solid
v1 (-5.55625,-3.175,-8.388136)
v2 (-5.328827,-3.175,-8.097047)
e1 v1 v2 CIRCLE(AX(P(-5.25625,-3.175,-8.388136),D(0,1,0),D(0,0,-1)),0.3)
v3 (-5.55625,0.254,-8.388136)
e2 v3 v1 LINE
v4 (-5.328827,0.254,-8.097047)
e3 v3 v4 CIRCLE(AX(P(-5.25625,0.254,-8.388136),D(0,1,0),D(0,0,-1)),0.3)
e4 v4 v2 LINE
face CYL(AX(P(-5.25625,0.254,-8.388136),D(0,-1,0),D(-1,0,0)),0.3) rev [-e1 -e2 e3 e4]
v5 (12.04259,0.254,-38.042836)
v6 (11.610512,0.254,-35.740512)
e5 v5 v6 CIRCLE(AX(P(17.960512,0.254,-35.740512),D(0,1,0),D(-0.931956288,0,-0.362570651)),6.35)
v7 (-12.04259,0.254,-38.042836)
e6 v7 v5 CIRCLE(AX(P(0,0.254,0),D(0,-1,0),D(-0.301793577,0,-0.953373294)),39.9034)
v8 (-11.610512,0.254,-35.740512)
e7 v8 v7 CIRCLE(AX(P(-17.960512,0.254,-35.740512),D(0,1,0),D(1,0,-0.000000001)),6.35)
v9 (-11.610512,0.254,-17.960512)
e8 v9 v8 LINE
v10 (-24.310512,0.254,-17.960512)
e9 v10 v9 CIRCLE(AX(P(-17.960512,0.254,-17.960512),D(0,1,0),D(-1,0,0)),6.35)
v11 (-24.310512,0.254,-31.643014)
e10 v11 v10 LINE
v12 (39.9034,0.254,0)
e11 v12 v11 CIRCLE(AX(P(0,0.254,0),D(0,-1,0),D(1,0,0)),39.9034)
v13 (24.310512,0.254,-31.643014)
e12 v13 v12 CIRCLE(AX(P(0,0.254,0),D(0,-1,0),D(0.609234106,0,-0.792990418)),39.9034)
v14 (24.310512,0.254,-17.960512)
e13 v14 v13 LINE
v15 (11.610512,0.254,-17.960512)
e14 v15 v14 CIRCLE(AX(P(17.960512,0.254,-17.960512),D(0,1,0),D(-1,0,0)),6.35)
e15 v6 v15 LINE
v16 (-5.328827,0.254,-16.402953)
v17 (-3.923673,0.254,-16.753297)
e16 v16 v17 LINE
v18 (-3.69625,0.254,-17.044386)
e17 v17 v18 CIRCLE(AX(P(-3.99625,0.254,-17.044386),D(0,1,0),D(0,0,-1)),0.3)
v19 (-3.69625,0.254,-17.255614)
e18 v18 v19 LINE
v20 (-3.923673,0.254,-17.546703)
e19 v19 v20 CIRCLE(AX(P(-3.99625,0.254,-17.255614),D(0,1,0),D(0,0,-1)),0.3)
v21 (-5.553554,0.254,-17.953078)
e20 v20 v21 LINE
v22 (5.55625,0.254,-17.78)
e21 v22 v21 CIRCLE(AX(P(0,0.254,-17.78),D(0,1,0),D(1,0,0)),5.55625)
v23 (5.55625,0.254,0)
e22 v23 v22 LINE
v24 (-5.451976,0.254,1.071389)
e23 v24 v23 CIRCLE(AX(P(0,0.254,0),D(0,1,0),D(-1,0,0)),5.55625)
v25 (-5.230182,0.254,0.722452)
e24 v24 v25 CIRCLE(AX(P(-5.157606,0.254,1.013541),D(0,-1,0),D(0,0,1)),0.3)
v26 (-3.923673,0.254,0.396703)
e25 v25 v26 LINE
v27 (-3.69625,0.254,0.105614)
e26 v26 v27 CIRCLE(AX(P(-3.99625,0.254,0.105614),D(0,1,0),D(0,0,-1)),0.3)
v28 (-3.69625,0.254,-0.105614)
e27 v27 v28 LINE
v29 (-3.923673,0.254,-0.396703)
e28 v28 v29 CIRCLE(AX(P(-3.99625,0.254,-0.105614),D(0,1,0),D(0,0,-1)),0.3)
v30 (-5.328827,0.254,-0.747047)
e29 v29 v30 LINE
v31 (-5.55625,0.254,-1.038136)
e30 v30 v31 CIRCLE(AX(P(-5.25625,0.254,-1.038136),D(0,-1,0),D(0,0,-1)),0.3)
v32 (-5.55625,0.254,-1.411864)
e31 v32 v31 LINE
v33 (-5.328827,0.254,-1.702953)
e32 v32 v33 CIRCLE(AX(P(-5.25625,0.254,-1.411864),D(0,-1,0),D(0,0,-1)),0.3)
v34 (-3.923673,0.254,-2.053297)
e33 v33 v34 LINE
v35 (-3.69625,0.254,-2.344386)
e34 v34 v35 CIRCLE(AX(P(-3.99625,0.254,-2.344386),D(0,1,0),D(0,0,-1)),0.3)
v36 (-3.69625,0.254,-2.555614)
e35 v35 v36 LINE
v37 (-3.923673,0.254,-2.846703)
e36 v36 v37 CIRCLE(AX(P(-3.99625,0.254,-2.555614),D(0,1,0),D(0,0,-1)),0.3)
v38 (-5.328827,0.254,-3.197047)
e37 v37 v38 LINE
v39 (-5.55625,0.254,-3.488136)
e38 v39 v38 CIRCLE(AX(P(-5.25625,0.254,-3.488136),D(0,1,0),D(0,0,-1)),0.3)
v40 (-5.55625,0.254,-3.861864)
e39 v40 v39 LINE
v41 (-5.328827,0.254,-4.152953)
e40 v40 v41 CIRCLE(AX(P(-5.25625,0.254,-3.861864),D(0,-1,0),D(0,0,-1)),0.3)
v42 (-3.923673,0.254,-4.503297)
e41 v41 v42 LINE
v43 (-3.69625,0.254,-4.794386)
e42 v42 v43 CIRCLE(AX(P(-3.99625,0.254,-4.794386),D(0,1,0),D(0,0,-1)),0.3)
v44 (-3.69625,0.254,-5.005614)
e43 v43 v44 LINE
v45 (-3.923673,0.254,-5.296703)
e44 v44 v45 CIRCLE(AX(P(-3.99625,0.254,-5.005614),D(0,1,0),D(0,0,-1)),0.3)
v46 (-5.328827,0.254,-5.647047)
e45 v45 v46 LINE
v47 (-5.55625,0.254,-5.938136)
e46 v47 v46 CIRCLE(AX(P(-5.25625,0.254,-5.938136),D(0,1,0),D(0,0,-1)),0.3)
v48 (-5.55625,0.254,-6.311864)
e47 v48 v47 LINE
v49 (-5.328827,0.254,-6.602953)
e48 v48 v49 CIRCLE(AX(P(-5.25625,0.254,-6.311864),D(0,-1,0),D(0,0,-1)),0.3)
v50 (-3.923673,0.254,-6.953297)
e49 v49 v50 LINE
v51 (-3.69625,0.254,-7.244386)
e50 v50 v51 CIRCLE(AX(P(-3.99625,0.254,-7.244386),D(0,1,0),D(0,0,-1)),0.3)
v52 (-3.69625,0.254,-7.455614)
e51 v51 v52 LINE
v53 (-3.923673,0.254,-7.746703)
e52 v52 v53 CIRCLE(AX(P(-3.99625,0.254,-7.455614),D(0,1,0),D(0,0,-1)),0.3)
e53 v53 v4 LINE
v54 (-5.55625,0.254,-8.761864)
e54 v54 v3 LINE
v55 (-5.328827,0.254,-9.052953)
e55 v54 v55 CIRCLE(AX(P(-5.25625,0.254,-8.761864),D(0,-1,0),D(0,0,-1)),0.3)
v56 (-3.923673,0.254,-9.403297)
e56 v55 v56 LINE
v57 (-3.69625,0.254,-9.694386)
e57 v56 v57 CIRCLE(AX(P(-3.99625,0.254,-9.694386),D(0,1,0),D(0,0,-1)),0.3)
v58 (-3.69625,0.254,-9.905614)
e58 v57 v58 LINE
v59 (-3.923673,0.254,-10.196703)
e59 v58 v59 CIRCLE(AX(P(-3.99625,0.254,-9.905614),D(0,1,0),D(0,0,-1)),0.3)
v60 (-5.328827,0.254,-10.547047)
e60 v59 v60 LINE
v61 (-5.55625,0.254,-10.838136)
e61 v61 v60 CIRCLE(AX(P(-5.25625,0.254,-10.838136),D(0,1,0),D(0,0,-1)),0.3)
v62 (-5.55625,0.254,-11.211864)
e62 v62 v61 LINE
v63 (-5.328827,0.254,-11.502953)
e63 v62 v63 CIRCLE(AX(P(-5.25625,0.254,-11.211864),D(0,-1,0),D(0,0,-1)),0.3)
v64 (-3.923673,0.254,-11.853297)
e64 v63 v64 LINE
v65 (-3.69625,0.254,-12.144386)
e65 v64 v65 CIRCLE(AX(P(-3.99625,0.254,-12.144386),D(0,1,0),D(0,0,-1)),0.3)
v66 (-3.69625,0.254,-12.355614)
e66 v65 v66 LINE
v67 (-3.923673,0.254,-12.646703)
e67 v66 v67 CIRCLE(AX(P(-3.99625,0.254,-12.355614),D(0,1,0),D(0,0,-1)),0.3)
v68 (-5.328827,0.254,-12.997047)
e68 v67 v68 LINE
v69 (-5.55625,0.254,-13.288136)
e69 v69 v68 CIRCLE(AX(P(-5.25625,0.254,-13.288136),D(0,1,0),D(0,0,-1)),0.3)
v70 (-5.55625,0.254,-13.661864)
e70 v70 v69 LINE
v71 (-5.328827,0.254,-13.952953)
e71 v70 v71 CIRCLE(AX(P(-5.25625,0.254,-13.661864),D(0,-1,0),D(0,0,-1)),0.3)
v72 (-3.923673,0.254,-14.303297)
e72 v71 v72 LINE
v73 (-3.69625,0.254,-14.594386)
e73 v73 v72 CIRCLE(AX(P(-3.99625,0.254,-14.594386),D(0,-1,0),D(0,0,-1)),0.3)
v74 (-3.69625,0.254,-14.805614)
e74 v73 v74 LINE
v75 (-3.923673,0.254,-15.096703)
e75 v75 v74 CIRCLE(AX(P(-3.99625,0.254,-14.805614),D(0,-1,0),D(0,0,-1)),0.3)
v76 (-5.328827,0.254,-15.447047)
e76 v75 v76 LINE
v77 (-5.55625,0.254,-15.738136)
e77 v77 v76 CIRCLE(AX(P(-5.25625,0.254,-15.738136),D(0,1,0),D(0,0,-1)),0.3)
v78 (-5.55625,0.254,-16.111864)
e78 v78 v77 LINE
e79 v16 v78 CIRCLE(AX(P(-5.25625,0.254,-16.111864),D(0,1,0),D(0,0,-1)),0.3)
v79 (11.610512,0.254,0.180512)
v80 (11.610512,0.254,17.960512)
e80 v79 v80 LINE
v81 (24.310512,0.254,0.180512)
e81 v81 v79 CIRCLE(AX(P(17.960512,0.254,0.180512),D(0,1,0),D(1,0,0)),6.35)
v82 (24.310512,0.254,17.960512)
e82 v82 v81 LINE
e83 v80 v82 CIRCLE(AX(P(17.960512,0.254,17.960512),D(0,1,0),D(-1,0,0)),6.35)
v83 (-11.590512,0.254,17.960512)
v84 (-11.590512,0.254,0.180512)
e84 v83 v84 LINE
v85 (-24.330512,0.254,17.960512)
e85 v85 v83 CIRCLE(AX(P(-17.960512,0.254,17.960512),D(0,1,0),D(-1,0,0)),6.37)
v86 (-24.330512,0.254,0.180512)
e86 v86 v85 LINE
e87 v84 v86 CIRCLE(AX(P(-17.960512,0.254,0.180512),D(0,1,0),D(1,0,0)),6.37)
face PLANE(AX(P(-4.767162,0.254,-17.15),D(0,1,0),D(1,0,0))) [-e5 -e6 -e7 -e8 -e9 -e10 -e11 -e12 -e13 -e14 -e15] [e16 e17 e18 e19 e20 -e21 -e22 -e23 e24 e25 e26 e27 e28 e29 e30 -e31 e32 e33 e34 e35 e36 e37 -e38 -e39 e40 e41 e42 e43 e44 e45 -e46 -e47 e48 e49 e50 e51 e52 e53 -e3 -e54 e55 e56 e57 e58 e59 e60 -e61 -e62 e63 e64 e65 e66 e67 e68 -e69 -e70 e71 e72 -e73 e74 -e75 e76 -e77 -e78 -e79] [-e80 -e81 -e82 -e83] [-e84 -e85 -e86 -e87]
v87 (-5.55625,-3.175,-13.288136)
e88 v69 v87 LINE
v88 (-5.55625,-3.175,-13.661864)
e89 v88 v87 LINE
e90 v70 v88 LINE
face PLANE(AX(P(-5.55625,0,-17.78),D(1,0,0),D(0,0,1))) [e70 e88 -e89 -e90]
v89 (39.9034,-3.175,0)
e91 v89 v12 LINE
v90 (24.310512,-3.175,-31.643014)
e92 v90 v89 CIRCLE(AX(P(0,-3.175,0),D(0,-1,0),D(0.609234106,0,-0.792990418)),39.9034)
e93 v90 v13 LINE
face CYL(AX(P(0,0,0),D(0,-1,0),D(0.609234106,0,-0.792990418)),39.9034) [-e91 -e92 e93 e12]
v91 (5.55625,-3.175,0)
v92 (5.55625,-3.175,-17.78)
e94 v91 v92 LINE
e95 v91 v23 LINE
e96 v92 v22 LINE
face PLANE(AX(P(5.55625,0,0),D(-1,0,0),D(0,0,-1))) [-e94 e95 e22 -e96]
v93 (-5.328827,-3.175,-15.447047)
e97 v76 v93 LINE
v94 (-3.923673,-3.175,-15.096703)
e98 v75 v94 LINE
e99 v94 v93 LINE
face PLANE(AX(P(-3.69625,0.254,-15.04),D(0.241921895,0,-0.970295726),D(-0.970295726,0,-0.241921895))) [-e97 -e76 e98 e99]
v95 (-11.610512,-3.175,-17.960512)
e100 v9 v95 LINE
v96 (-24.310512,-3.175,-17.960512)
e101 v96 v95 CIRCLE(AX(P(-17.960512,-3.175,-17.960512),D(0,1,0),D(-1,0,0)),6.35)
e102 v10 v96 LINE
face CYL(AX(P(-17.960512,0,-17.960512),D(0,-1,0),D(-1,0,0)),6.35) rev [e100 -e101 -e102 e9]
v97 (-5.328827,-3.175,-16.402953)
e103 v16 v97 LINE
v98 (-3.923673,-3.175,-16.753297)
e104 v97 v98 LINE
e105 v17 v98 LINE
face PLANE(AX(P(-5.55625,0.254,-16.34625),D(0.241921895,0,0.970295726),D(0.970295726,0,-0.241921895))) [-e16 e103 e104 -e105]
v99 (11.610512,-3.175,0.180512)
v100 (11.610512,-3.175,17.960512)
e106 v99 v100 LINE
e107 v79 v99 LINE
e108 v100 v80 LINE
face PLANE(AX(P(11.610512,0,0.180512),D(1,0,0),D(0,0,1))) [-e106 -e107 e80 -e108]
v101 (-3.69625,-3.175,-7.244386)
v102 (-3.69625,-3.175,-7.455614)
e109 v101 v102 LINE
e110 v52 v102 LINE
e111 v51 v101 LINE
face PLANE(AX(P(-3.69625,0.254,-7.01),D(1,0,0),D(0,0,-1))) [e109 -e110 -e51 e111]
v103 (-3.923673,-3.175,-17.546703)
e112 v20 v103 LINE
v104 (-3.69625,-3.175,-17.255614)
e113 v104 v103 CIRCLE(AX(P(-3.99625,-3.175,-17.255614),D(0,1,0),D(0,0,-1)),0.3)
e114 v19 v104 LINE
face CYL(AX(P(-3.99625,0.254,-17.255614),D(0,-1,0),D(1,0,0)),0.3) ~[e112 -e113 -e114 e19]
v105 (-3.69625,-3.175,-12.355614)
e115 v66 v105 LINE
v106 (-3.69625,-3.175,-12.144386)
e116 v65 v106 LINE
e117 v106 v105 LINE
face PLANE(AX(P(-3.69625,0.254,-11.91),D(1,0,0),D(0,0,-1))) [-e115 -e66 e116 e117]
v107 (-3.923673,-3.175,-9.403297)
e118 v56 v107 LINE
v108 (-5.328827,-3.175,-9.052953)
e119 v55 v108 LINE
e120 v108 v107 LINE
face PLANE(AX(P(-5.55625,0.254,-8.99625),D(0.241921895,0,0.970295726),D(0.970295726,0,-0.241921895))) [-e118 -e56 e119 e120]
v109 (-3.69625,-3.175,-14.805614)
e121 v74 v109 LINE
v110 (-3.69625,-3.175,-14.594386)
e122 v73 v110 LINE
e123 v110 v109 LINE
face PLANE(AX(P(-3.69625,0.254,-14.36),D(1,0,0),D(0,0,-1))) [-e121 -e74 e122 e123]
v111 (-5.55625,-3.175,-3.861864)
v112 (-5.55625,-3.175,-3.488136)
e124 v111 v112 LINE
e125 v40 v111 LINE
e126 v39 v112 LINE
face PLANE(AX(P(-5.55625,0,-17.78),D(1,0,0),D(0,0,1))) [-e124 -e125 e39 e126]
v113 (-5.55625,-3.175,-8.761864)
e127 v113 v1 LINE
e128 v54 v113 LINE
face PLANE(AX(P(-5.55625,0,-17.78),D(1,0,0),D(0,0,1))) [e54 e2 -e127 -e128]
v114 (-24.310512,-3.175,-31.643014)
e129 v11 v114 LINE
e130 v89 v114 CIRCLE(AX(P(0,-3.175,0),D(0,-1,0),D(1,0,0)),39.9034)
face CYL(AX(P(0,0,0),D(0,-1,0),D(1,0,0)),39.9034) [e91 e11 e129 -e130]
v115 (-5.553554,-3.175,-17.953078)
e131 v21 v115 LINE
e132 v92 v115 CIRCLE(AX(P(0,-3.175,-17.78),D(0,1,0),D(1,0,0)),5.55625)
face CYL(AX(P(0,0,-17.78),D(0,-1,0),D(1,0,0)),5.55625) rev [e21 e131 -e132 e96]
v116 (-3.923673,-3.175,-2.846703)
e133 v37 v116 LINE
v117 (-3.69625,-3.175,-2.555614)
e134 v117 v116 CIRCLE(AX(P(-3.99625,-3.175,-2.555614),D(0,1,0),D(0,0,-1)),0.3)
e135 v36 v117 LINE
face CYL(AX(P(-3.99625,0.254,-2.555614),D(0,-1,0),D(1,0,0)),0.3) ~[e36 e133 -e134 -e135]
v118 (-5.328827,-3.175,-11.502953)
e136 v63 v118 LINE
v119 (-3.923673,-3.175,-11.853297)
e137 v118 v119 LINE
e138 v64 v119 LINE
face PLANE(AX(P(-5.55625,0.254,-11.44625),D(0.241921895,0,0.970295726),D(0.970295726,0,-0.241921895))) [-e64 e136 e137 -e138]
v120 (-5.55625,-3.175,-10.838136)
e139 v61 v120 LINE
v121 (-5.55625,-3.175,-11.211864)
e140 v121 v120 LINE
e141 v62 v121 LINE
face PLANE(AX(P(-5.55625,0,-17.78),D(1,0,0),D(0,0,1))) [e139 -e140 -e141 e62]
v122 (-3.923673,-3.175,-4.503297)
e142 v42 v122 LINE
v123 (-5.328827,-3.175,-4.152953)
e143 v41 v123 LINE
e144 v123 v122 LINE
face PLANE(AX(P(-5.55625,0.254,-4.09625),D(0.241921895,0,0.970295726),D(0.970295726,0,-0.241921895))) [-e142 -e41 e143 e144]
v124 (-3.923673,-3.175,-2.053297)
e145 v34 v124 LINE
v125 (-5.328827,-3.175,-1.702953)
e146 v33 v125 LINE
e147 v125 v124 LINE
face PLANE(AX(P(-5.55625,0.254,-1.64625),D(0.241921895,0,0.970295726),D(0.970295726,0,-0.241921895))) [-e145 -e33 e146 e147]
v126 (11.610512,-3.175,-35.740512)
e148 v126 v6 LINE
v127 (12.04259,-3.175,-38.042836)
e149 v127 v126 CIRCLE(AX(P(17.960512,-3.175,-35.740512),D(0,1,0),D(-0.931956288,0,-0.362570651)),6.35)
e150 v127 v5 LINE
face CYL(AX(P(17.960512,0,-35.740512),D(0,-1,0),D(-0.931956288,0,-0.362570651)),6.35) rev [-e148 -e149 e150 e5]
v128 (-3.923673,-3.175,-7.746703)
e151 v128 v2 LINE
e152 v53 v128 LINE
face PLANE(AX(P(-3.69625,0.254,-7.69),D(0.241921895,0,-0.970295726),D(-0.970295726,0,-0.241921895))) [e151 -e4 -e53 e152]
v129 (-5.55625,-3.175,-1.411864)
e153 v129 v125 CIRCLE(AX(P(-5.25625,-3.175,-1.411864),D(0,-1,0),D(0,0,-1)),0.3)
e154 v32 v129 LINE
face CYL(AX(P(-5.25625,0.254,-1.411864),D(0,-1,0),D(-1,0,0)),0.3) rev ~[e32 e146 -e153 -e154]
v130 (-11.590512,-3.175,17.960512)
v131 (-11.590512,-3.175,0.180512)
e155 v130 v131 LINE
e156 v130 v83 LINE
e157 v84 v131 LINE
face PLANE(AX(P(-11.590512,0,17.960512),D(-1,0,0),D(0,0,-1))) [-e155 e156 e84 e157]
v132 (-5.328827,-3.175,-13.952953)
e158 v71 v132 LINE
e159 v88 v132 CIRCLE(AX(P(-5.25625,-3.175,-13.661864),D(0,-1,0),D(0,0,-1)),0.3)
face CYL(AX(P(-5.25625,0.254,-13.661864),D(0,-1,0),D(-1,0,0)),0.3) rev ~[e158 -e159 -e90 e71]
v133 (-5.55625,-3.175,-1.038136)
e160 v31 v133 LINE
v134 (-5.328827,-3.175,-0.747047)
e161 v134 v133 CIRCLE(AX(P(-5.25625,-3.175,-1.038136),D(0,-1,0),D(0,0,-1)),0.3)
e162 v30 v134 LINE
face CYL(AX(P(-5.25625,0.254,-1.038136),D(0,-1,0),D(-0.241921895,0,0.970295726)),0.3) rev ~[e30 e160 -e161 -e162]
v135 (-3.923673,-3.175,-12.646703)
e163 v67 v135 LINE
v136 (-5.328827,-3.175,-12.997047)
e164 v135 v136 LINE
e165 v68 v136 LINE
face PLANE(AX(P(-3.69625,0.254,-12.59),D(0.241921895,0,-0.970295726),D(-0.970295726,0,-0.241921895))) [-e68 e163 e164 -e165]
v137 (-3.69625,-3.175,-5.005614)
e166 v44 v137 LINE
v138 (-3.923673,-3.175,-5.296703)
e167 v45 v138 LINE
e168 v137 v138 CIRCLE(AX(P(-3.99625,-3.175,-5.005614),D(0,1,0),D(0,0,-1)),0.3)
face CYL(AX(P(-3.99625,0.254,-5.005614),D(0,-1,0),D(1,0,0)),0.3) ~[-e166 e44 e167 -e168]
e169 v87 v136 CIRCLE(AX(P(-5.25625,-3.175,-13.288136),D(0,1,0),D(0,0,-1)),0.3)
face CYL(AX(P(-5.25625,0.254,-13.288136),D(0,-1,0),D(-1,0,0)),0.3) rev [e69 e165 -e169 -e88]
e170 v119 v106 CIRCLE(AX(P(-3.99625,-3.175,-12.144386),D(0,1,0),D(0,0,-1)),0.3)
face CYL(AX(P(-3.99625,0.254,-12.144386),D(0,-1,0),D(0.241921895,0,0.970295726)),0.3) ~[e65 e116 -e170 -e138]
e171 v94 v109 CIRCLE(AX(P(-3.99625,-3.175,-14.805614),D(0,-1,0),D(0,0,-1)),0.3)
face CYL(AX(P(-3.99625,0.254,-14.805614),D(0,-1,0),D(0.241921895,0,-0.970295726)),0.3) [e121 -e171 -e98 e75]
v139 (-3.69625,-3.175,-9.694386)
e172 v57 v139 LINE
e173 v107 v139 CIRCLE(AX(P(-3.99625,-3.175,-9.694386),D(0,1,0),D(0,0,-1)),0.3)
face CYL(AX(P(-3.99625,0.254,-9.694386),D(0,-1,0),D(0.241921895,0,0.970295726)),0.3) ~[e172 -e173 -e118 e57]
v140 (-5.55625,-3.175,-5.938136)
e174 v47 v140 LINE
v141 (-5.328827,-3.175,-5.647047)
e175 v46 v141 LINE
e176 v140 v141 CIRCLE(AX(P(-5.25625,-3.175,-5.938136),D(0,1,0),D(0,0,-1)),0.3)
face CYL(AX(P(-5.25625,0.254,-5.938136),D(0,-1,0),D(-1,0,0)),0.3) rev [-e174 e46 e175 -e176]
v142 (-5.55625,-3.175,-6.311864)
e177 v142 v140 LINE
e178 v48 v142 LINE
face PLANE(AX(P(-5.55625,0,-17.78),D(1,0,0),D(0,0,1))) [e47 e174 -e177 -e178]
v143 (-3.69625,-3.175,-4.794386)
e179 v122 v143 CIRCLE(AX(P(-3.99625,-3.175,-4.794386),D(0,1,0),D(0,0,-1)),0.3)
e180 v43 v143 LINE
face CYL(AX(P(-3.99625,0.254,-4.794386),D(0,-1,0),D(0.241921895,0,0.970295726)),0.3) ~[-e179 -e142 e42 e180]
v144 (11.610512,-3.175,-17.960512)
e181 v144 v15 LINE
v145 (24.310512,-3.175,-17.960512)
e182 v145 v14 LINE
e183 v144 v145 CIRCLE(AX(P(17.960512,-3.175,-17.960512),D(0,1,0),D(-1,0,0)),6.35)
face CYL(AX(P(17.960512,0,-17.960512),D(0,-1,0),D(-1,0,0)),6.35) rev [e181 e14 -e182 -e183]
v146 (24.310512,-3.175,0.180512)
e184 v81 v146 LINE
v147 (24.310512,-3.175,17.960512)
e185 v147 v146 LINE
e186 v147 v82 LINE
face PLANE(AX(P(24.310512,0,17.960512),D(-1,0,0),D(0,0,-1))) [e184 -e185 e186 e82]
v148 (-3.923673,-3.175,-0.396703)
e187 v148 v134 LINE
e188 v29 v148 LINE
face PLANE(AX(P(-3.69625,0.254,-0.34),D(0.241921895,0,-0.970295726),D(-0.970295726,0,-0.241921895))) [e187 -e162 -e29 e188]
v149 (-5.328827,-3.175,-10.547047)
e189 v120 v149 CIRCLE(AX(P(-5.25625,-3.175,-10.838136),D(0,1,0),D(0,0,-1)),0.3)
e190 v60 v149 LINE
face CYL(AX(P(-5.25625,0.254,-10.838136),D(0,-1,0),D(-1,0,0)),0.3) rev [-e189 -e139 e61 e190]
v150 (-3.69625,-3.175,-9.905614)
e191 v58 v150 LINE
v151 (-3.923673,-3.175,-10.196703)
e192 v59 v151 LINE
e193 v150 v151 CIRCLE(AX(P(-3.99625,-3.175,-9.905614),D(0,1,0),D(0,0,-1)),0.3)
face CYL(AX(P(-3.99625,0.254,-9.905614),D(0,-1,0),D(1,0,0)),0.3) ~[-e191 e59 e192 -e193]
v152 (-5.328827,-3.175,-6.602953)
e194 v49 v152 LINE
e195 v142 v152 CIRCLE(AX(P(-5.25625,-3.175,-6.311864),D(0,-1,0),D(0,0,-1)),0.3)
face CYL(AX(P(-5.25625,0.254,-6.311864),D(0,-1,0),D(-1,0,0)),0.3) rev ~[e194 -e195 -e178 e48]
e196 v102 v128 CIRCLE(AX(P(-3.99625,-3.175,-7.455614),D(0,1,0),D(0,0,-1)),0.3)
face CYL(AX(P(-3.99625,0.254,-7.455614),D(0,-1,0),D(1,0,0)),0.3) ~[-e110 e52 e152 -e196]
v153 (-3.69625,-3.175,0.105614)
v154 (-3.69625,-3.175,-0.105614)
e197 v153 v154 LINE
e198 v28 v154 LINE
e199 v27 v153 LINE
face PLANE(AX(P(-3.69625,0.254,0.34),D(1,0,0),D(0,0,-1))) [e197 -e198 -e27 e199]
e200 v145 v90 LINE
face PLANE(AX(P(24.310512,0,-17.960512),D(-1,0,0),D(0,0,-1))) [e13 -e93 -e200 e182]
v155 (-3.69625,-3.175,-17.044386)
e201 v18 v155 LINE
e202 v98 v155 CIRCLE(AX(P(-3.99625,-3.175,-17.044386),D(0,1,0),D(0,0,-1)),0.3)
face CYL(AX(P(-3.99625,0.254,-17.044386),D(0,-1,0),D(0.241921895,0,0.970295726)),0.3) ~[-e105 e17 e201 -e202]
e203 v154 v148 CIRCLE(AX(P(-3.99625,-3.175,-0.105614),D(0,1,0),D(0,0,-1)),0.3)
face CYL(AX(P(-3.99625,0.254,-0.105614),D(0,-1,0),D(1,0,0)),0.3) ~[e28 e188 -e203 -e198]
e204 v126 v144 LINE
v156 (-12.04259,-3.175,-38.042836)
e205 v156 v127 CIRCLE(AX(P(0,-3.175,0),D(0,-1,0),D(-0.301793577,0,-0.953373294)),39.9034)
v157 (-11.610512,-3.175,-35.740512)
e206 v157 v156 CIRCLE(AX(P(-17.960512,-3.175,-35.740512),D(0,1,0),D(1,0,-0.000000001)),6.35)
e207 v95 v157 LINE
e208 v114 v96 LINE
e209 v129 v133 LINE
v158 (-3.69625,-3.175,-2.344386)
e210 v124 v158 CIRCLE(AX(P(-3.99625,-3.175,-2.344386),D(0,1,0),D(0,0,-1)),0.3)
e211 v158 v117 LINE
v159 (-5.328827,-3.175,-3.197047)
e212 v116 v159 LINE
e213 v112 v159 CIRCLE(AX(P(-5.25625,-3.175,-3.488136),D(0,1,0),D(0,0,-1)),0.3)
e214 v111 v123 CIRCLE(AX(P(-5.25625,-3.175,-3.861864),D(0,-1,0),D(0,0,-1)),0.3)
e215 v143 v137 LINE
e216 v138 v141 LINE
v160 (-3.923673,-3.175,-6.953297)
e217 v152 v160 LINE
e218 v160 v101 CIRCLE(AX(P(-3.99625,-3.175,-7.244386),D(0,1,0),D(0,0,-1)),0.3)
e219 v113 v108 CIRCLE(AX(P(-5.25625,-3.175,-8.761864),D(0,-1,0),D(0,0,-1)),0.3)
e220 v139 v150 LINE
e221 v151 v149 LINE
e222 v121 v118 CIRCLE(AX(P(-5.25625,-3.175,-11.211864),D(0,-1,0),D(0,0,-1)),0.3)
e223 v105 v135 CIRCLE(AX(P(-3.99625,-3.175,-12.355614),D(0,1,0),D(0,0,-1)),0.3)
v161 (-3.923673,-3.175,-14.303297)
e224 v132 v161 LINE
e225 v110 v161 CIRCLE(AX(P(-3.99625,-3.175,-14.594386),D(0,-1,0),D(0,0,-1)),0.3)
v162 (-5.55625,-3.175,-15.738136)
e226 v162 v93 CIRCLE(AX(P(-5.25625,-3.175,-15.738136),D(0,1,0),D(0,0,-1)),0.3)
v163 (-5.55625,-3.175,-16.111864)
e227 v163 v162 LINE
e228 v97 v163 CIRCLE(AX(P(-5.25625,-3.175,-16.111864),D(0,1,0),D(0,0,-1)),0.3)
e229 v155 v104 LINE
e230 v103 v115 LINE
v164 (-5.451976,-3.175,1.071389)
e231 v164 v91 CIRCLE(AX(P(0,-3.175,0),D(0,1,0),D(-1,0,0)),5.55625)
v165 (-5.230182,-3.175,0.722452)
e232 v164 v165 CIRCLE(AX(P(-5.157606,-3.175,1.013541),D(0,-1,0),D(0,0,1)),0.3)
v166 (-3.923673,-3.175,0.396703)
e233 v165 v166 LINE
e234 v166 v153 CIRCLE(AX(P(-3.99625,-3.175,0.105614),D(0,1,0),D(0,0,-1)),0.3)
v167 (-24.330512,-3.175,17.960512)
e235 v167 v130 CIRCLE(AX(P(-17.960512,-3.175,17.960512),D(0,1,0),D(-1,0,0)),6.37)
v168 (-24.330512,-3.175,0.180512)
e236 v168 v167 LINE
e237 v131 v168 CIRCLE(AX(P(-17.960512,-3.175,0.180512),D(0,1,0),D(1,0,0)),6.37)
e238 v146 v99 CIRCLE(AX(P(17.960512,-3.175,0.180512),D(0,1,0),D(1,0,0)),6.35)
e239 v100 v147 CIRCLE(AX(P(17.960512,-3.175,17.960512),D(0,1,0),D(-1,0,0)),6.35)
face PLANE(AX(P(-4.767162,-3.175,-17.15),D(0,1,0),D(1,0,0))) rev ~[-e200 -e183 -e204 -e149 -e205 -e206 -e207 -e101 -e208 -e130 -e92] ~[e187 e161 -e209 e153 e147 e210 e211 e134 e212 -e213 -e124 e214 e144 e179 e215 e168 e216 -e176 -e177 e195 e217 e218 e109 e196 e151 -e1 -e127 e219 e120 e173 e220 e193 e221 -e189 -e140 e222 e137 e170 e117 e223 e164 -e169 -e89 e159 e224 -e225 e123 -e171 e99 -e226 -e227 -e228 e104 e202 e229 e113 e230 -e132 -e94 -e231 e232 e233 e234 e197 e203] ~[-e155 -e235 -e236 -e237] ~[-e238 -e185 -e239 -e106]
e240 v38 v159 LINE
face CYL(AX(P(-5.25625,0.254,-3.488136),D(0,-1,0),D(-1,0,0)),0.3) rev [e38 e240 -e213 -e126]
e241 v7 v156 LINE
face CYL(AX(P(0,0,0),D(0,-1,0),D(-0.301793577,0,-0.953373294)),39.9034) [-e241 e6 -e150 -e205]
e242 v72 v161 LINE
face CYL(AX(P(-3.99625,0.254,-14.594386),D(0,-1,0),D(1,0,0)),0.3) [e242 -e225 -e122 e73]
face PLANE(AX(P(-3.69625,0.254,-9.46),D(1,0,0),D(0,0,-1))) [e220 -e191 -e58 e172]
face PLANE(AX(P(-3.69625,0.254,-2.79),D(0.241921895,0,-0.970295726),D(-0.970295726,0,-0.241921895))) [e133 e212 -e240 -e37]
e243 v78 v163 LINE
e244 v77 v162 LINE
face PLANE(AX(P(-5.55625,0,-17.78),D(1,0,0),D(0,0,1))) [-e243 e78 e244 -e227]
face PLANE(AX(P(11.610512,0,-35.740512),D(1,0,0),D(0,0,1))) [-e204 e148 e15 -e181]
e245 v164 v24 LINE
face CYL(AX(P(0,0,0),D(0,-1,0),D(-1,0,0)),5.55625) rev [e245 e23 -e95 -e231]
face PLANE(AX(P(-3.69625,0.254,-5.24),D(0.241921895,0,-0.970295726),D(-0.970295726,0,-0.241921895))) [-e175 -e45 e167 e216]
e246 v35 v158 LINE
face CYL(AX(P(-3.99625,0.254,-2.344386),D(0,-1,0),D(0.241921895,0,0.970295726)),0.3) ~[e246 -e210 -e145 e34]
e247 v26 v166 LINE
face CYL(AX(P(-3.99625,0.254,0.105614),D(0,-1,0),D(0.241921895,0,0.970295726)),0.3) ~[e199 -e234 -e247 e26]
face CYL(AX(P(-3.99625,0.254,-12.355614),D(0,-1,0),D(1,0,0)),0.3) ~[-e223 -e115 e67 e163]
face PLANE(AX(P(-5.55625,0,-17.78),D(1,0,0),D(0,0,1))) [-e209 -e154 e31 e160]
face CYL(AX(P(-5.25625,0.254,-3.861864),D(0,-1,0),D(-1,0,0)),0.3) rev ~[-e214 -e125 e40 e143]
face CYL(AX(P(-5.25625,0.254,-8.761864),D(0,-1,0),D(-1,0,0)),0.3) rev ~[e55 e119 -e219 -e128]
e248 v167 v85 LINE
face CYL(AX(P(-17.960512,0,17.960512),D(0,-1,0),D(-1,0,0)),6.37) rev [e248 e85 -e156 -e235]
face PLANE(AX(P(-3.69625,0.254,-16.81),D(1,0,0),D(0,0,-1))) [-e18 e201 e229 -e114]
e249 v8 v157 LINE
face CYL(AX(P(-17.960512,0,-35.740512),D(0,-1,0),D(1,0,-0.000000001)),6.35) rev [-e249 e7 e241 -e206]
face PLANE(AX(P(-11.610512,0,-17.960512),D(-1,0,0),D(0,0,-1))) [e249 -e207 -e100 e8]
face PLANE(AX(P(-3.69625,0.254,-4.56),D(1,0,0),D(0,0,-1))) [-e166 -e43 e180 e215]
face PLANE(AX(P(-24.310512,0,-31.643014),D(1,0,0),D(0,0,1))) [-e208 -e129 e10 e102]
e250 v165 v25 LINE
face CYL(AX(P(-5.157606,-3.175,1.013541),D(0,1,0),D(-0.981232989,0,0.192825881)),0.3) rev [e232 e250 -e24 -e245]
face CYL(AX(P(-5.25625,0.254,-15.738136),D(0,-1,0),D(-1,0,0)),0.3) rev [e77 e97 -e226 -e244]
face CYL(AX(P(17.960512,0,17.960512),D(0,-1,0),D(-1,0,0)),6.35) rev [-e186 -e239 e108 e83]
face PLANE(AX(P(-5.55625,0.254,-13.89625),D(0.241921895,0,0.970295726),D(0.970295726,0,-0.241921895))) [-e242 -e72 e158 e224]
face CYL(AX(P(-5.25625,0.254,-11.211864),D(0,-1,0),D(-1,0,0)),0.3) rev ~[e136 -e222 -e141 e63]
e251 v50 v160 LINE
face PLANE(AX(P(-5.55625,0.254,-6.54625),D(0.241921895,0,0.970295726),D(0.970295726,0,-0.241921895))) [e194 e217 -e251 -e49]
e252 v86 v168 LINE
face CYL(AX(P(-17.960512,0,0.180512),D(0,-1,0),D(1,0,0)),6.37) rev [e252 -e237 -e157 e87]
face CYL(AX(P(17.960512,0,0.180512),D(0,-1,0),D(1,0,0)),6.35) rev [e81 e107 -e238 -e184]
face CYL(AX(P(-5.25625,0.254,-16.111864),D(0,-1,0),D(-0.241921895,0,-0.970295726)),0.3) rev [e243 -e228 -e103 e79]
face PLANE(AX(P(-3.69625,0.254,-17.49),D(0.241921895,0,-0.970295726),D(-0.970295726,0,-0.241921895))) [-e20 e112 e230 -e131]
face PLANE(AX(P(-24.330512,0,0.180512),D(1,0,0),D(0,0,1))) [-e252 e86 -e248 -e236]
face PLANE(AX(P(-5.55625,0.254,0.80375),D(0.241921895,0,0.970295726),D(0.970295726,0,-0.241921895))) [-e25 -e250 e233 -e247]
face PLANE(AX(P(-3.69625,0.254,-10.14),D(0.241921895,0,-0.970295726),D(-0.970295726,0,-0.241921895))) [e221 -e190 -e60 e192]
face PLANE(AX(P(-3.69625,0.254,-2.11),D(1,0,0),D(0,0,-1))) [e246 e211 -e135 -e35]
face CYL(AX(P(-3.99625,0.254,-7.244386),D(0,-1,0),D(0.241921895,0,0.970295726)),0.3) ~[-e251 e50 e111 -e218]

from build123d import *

# Parameters (mm, degrees)
BOSS_EXTRUDE1_DEPTH      = 3.175
BOSS_EXTRUDE1_DEPTH_BACK = 0.254
BOSS_EXTRUDE2_DEPTH      = 3.429
LPATTERN1_COUNT          = 8
LPATTERN1_PITCH          = 2.45
FILLET1_R                = 0.3


with BuildPart() as part:
    # Sketch3 → Boss-Extrude1 (new body, two sides)
    with BuildSketch(Plane.XZ) as boss_extrude1_sk:
        with BuildLine():
            ThreePointArc((39.9034, 0), (-17.63815803, 35.793528925), (-24.310512242, -31.643013859))
            Line((-24.310512242, -31.643013859), (-24.310512242, -17.960512242))
            ThreePointArc((-24.310512242, -17.960512242), (-17.960512242, -11.610512242), (-11.610512242, -17.960512242))
            Line((-11.610512242, -17.960512242), (-11.610512242, -35.740512242))
            ThreePointArc((-11.610512242, -35.740512242), (-11.71946636, -36.911770666), (-12.042589815, -38.042835884))
            ThreePointArc((-12.042589815, -38.042835884), (0, -39.9034), (12.042589815, -38.042835884))
            ThreePointArc((12.042589815, -38.042835884), (11.71946636, -36.911770666), (11.610512242, -35.740512242))
            Line((11.610512242, -35.740512242), (11.610512242, -17.960512242))
            ThreePointArc((11.610512242, -17.960512242), (17.960512242, -11.610512242), (24.310512242, -17.960512242))
            Line((24.310512242, -17.960512242), (24.310512242, -31.643013859))
            ThreePointArc((24.310512242, -31.643013859), (35.793528925, -17.63815803), (39.9034, 0))
        make_face()
        with BuildLine():
            ThreePointArc((-5.55625, 0), (0, 5.55625), (5.55625, 0))
            Line((5.55625, 0), (5.55625, -17.78))
            ThreePointArc((5.55625, -17.78), (0, -23.33625), (-5.55625, -17.78))
            Line((-5.55625, -17.78), (-5.55625, 0))
        make_face(mode=Mode.SUBTRACT)
        with BuildLine():
            ThreePointArc((-11.590512242, 0.180512242), (-17.960512242, -6.189487758), (-24.330512242, 0.180512242))
            Line((-24.330512242, 0.180512242), (-24.330512242, 17.960512242))
            ThreePointArc((-24.330512242, 17.960512242), (-17.960512242, 24.330512242), (-11.590512242, 17.960512242))
            Line((-11.590512242, 17.960512242), (-11.590512242, 0.180512242))
        make_face(mode=Mode.SUBTRACT)
        with BuildLine():
            ThreePointArc((24.310512242, 0.180512242), (17.960512242, -6.169487758), (11.610512242, 0.180512242))
            Line((11.610512242, 0.180512242), (11.610512242, 17.960512242))
            ThreePointArc((11.610512242, 17.960512242), (17.960512242, 24.310512242), (24.310512242, 17.960512242))
            Line((24.310512242, 17.960512242), (24.310512242, 0.180512242))
        make_face(mode=Mode.SUBTRACT)
    extrude(amount=BOSS_EXTRUDE1_DEPTH)
    extrude(boss_extrude1_sk.sketch, amount=-BOSS_EXTRUDE1_DEPTH_BACK)

    # Sketch4 → Boss-Extrude2 (add)
    with BuildSketch(Plane(origin=(0, 0.254, 0), x_dir=(1, 0, 0), z_dir=(0, 1, 0))):
        Polygon((-5.55625, -0.803750085), (-3.69625, -0.34), (-3.69625, 0.34), (-5.55625, 0.803750085), align=None)
    boss_extrude2 = extrude(amount=-BOSS_EXTRUDE2_DEPTH)

    # LPattern1: Boss-Extrude2 ×8
    with Locations(*[(0, 0, -i * LPATTERN1_PITCH) for i in range(1, LPATTERN1_COUNT)]):
        add(boss_extrude2)

    # Fillet1
    fillet1_edges = [part.edges().sort_by_distance(p)[0] for p in [
        (-3.69625, -1.4605, 0.34),
        (-5.55625, -1.4605, -0.803750085),
        (-3.69625, -1.4605, -0.34),
        (-5.499846219, -1.4605, 0.789687043),
        (-5.55625, -1.4605, -1.646249915),
        (-5.55625, -1.4605, -3.253750085),
        (-3.69625, -1.4605, -2.79),
        (-3.69625, -1.4605, -2.11),
        (-5.55625, -1.4605, -4.096249915),
        (-5.55625, -1.4605, -5.703750085),
        (-3.69625, -1.4605, -5.24),
        (-3.69625, -1.4605, -4.56),
        (-5.55625, -1.4605, -6.546249915),
        (-5.55625, -1.4605, -8.153750085),
        (-3.69625, -1.4605, -7.69),
        (-3.69625, -1.4605, -7.01),
        (-5.55625, -1.4605, -8.996249915),
        (-5.55625, -1.4605, -10.603750085),
        (-3.69625, -1.4605, -10.14),
        (-3.69625, -1.4605, -9.46),
        (-5.55625, -1.4605, -11.446249915),
        (-5.55625, -1.4605, -13.053750085),
        (-3.69625, -1.4605, -12.59),
        (-3.69625, -1.4605, -11.91),
        (-5.55625, -1.4605, -13.896249915),
        (-5.55625, -1.4605, -15.503750085),
        (-3.69625, -1.4605, -15.04),
        (-3.69625, -1.4605, -14.36),
        (-5.55625, -1.4605, -16.346249915),
        (-3.69625, -1.4605, -17.49),
        (-3.69625, -1.4605, -16.81),
    ]]
    fillet(fillet1_edges, radius=FILLET1_R)


solid = part.part
